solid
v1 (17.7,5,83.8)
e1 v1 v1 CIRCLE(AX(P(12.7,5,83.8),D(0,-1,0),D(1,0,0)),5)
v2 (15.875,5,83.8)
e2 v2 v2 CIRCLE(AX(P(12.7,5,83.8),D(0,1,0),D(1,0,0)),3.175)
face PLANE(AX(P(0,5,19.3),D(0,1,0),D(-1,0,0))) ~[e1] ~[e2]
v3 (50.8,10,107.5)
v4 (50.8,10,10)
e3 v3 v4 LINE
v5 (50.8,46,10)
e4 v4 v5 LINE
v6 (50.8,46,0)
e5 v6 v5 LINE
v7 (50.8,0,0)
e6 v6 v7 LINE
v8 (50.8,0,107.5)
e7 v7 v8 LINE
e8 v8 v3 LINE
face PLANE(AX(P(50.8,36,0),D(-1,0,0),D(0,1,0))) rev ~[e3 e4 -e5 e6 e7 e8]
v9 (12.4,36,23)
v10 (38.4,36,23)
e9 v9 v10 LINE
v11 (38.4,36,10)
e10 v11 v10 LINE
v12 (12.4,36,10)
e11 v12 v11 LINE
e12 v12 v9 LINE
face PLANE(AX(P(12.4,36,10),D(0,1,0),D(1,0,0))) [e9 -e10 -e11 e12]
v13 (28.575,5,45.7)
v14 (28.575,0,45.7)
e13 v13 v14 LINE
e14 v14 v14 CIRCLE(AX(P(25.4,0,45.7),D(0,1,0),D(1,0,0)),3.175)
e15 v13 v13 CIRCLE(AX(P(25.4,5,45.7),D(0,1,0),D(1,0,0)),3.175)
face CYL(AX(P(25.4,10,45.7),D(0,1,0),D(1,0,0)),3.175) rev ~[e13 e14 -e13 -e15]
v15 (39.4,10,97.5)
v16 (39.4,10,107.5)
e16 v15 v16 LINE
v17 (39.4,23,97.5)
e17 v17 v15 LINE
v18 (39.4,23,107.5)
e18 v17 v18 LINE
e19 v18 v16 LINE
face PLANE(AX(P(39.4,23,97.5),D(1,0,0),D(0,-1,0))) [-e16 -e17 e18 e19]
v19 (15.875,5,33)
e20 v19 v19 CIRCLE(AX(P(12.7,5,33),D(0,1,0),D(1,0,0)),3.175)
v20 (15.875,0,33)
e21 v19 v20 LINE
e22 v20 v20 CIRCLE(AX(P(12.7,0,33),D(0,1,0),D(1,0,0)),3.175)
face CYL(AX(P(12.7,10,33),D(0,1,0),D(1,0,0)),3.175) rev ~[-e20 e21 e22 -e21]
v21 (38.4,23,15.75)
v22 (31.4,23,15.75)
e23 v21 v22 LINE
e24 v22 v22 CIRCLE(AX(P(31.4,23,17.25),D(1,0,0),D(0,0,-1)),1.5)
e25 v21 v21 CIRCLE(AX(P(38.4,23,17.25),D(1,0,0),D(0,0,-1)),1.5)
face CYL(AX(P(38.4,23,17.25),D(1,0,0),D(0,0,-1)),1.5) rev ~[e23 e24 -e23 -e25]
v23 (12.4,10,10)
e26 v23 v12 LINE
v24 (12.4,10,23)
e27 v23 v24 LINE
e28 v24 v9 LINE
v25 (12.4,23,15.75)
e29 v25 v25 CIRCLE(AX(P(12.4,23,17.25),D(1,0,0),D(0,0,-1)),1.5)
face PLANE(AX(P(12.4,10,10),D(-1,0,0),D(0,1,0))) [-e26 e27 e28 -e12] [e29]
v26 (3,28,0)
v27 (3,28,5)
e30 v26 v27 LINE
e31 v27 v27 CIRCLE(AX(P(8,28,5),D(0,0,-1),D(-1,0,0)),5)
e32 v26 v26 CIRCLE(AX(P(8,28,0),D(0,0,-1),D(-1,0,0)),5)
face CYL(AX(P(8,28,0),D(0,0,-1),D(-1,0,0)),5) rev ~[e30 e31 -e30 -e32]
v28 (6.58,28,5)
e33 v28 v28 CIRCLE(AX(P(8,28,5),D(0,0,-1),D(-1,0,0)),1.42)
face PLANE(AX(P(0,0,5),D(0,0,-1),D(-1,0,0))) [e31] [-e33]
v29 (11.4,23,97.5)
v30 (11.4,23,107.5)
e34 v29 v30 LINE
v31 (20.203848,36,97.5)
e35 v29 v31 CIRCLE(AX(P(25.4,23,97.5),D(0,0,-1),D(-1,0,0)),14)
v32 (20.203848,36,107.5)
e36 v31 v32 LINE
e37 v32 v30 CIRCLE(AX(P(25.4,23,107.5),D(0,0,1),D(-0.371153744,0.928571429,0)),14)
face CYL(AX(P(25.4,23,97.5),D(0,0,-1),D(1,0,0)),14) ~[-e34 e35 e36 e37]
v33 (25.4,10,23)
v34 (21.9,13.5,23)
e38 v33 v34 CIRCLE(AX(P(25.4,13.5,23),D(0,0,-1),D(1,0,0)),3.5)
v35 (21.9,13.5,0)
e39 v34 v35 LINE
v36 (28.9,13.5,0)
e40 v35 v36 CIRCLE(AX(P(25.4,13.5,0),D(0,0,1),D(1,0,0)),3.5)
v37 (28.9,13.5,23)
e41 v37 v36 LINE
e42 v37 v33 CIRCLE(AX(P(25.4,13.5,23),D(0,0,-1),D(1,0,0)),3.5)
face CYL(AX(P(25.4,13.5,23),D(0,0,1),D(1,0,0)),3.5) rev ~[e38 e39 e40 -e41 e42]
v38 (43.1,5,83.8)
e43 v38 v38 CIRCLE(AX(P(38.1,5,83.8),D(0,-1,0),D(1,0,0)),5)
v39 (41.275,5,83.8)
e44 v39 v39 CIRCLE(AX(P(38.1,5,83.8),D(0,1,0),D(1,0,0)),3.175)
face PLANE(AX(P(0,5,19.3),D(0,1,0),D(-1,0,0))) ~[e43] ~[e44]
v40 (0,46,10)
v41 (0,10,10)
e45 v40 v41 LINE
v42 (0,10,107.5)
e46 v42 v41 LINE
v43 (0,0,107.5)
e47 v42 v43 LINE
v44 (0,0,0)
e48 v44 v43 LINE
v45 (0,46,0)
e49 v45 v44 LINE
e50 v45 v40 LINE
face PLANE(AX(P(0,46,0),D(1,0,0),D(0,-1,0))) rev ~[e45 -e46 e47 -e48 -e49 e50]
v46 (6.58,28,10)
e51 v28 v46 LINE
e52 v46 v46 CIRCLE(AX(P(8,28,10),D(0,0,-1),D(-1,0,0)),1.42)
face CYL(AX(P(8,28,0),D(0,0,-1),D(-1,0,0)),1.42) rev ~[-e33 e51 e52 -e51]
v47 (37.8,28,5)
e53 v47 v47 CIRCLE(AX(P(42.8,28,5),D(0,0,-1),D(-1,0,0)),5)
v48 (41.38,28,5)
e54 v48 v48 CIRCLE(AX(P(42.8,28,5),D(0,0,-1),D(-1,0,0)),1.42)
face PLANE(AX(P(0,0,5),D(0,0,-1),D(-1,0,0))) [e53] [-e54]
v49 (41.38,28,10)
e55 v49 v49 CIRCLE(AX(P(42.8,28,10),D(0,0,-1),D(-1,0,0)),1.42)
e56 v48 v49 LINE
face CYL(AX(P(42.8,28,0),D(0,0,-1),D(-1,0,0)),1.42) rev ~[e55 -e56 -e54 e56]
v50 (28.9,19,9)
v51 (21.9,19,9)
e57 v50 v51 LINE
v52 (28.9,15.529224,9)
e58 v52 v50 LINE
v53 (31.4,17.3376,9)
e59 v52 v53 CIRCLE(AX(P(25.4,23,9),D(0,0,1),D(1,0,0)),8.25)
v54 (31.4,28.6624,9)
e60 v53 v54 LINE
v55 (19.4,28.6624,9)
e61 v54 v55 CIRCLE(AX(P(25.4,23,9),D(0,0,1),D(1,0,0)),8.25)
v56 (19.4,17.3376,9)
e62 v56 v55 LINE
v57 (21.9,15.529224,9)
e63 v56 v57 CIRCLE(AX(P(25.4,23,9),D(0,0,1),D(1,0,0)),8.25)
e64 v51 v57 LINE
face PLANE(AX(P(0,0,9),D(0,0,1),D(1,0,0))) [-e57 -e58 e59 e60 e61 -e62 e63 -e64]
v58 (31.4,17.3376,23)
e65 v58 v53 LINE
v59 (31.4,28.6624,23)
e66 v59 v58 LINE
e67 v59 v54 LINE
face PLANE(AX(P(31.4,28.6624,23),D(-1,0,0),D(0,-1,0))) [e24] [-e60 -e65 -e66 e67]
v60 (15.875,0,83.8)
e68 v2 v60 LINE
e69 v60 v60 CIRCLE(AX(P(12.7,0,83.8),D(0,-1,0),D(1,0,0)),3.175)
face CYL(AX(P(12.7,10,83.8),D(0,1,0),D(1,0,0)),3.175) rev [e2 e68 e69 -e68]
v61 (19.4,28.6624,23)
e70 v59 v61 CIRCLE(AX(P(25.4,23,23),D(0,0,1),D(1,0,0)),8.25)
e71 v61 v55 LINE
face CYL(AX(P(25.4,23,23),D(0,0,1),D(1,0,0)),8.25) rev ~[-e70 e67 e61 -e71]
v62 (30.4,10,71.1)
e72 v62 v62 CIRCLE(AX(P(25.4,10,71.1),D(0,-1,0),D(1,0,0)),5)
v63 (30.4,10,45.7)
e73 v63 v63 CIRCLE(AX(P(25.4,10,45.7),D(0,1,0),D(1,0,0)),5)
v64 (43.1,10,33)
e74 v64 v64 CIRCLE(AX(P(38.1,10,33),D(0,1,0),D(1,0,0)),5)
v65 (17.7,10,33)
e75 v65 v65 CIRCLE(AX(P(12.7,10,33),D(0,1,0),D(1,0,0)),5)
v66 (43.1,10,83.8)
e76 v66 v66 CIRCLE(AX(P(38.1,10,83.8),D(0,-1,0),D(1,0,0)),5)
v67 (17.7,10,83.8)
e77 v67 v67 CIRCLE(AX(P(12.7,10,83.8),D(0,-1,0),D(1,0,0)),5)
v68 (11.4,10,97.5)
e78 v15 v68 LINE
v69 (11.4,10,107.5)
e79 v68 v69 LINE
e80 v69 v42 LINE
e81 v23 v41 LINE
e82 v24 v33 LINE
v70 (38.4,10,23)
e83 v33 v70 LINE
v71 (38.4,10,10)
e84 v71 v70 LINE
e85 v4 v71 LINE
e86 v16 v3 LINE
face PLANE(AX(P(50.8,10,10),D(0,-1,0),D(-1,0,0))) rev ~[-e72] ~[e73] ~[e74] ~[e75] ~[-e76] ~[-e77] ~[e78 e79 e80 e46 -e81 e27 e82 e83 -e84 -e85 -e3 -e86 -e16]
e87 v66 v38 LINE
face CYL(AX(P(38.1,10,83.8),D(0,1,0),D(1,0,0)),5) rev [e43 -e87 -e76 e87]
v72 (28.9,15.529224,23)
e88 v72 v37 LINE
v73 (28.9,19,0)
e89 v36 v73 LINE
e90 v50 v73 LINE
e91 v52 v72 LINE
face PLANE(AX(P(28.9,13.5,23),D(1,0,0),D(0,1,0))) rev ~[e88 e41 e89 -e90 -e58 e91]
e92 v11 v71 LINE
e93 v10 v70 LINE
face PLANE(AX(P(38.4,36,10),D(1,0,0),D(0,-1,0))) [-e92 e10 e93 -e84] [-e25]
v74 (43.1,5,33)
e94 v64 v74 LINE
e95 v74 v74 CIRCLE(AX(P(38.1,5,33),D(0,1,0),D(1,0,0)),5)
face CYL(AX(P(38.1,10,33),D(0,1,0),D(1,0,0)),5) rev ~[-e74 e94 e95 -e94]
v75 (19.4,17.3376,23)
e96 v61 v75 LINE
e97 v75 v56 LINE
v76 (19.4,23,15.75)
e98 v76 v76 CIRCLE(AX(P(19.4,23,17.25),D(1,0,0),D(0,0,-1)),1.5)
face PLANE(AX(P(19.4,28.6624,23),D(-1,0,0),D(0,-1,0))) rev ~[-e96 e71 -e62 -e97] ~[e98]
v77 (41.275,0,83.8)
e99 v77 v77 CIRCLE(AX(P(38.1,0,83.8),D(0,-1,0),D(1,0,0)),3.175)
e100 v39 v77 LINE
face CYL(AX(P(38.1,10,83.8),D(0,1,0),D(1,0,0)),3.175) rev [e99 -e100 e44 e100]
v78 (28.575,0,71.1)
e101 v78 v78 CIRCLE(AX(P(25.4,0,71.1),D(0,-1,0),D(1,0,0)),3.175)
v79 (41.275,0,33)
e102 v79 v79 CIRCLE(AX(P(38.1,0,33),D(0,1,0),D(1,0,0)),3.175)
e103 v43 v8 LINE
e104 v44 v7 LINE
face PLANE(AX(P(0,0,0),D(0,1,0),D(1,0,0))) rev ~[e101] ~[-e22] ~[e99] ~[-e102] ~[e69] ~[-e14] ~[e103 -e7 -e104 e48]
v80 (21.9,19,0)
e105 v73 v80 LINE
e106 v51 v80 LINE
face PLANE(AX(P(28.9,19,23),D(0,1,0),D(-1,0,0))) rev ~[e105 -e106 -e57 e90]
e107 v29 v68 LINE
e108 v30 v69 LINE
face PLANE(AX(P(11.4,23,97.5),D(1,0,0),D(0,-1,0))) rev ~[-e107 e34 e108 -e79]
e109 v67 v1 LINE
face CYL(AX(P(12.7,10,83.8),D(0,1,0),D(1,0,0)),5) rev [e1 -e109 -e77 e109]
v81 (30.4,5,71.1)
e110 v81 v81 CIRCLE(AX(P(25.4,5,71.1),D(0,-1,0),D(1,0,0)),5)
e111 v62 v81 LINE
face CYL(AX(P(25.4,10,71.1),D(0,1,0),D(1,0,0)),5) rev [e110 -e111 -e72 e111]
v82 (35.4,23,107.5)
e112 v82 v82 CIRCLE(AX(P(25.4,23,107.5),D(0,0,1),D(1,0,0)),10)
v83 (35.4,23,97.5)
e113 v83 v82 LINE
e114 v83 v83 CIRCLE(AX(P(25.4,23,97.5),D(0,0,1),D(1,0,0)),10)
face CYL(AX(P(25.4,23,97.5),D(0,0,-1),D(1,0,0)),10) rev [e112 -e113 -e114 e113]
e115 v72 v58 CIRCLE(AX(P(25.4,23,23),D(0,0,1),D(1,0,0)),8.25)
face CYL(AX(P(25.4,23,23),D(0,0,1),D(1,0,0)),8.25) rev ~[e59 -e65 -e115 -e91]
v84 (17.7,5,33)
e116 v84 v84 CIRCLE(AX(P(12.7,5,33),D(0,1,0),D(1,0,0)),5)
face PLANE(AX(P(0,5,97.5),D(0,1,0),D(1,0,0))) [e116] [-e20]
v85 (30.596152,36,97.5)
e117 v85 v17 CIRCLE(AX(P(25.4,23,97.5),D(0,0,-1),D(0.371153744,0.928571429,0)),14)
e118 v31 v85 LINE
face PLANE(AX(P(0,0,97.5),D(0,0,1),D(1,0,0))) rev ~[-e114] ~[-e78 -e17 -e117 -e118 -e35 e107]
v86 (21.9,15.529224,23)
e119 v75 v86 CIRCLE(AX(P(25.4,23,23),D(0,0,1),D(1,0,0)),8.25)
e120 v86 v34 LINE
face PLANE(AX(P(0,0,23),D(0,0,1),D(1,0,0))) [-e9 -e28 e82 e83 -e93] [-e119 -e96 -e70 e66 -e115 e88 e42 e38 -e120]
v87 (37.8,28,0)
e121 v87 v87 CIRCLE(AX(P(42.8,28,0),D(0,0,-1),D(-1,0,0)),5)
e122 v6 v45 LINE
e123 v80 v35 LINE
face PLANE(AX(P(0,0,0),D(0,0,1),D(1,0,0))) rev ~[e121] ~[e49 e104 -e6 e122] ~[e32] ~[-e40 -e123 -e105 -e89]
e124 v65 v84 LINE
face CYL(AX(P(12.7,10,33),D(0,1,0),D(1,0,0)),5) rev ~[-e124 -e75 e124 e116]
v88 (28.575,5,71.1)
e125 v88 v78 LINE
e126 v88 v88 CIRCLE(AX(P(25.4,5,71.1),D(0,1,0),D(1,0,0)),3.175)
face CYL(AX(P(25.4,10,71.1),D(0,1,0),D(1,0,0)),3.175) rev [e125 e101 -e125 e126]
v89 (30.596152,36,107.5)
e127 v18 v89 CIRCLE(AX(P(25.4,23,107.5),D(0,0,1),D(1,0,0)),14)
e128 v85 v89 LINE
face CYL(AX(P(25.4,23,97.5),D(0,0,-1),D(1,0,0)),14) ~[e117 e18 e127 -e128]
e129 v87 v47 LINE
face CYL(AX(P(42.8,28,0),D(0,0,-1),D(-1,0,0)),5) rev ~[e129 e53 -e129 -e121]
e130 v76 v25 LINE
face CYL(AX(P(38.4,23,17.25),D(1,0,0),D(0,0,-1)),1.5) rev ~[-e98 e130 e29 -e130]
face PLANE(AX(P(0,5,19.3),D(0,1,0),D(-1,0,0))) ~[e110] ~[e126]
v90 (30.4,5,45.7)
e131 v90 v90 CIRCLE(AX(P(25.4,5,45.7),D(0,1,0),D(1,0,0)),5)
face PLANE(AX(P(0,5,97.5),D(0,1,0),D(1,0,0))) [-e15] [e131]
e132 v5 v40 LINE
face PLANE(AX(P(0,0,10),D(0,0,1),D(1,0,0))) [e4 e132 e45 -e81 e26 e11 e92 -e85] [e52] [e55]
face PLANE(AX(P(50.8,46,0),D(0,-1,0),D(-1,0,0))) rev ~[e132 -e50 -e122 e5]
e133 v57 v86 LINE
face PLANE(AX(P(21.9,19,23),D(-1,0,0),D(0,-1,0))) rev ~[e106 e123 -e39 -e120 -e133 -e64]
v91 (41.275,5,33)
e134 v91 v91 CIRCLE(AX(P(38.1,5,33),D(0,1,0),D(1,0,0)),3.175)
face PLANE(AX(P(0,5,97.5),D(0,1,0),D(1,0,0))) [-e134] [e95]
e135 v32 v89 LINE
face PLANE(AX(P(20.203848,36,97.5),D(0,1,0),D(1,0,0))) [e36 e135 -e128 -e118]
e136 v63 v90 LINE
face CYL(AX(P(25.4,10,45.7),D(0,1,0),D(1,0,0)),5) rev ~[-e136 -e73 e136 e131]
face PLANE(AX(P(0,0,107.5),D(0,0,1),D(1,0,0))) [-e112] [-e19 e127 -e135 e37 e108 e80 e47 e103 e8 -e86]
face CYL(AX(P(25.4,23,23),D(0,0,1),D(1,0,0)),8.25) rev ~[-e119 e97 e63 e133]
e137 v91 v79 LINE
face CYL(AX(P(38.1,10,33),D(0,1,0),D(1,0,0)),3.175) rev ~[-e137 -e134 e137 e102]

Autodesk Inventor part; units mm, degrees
ref_plane "YZ Plane" through (0, 0, 0) normal (1, 0, 0) x (0, 1, 0)
ref_plane "XZ Plane" through (0, 0, 0) normal (0, 1, 0) x (-1, 0, 0)
sketch "Sketch1" plane through (0, 0, 0) normal (0, 0, 1) x (1, 0, 0)
  line L0 (-22.1831, 0) -> (-47.5831, 0)
  line L1 (0, 0) -> (50.8, 0)
  line L2 (50.8, 0) -> (50.8, 5)
  line L3 (50.8, 5) -> (50.8, 10)
  line L4 (50.8, 10) -> (50.8, 36)
  line L5 (50.8, 36) -> (50.8, 46)
  line L6 (50.8, 46) -> (0, 46)
  line L7 (0, 46) -> (0, 0)
  dimension "d0" = 25.4
  dimension "d1" = 50.8
  dimension "d2" = 5
  dimension "d3" = 5
  dimension "d4" = 26
  dimension "d5" = 10
extrude "Extrusion1" add sketch "Sketch1" along normal blind 10
sketch "Sketch2" plane through (0, 0, 10) normal (0, 0, 1) x (1, 0, 0)
  line L0 (50.8, 0) -> (50.8, 46) projected
  line L1 (50.8, 46) -> (0, 46) projected
  line L2 (0, 46) -> (0, 0) projected
  line L3 (0, 0) -> (50.8, 0) projected
  line L4 (0, 46) -> (0, 0) projected
  line L5 (0, 0) -> (50.8, 0)
  line L6 (50.8, 0) -> (50.8, 46) projected
  line L7 (50.8, 0) -> (50.8, 10)
  line L8 (50.8, 10) -> (0, 10)
  line L9 (0, 0) -> (0, 10)
  dimension "d8" = 10
extrude "Extrusion2" add sketch "Sketch2" along normal blind 87.5 contours L3 L2 L8 L0
sketch "Sketch3" plane through (0, 0, 10) normal (0, 0, 1) x (1, 0, 0)
  line L0 (0, 10) -> (50.8, 10) projected
  line L1 (50.8, 10) -> (50.8, 46) projected
  line L2 (50.8, 46) -> (0, 46) projected
  line L3 (0, 46) -> (0, 10) projected
  line L4 (12.4, 36) -> (38.4, 36)
  line L5 (38.4, 36) -> (38.4, 10)
  line L6 (38.4, 10) -> (12.4, 10)
  line L7 (12.4, 10) -> (12.4, 36)
  line L8 (17.4, 31) -> (33.4, 31)
  line L9 (33.4, 31) -> (33.4, 15)
  line L10 (33.4, 15) -> (17.4, 15)
  line L11 (17.4, 15) -> (17.4, 31)
  point P0 (0, 0)
  dimension "d1" = 50.8
  dimension "d12" = 38.4
  dimension "d13" = 10
  dimension "d14" = 5
  dimension "d15" = 5
  dimension "d16" = 16
  dimension "d17" = 16
  dimension "d18" = 5
  dimension "d19" = 5
  dimension "d24" = 26
  dimension "d26" = 26
extrude "Extrusion3" add sketch "Sketch3" along normal blind 13 contours L7 L4 L5 L0 | L8 L9 L10 L11
sketch "Sketch5" plane through (0, 0, 0) normal (0, 0, -1) x (-1, 0, 0)
  line L0 (-12.4, 36) -> (-38.4, 36) projected
  line L1 (-38.4, 36) -> (-38.4, 10) projected
  line L2 (-12.4, 10) -> (-12.4, 36) projected
  line L3 (0, 10) -> (-12.4, 10) projected
  line L4 (-50.8, 10) -> (-50.8, 46) projected
  line L5 (-50.8, 46) -> (0, 46) projected
  line L6 (0, 46) -> (0, 10) projected
  line L7 (0, 0) -> (-50.8, 0) projected
  line L8 (-50.8, 0) -> (-50.8, 10) projected
  line L9 (-50.8, 10) -> (0, 10) projected
  line L10 (0, 10) -> (0, 0) projected
  circle A0 centre (-42.8, 28) radius 1.42
  circle A1 centre (-8, 28) radius 1.42
  line L11 (-38.4, 10) -> (-50.8, 10) projected
  dimension "d29" = 2.84
  dimension "d30" = 2.84
  dimension "d31" = 8
  dimension "d32" = 8
  dimension "d33" = 8
  dimension "d34" = 8
extrude "Extrusion5" cut sketch "Sketch5" against normal blind 26 contours A0 | A1
sketch "Sketch9" plane through (0, 0, 0) normal (0, 0, -1) x (-1, 0, 0)
  circle A0 centre (-8, 28) radius 1.42 projected
  circle A1 centre (-42.8, 28) radius 1.42 projected
  line L0 (-50.8, 0) -> (-50.8, 46) projected
  line L1 (0, 0) -> (-50.8, 0) projected
  line L2 (0, 46) -> (0, 0) projected
  line L3 (-50.8, 46) -> (0, 46) projected
  circle A2 centre (-42.8, 28) radius 1.42 projected
  circle A3 centre (-42.8, 28) radius 5
  circle A4 centre (-8, 28) radius 1.42 projected
  circle A5 centre (-8, 28) radius 5
  dimension "d55" = 10
  dimension "d56" = 10
extrude "Extrusion9" cut sketch "Sketch9" against normal blind 5 contours A3 | A5
sketch "Sketch7" plane through (0, 0, 23) normal (0, 0, 1) x (1, 0, 0)
  line L0 (12.4, 36) -> (12.4, 10) projected
  line L1 (38.4, 10) -> (38.4, 36) projected
  line L2 (38.4, 36) -> (12.4, 36) projected
  circle A0 centre (25.4, 23) radius 8.25
  circle A1 centre (25.4, 23) radius 6
  line L3 (19.4, 28.6624) -> (19.4, 17.3376)
  line L4 (38.4, 10) -> (12.4, 10) projected
  line L5 (31.4, 28.6624) -> (31.4, 17.3376)
  point P0 (0, 0)
  dimension "d42" = 26
  dimension "d43" = 16.5
  dimension "d45" = 13
  dimension "d46" = 12
  dimension "d59" = 26
  dimension "d61" = 0
  dimension "d62" = 180
  dimension "d69" = 0
  dimension "d99" = 13
extrude "Extrusion7" cut sketch "Sketch7" against normal blind 14 contours L5 A1 L3 A0 | A0 L3 A1 L5 | A1
sketch "Sketch10" plane through (38.4, 10, 10) normal (1, 0, 0) x (0, 0, -1)
  line L0 (-13, 7.3376) -> (-13, 18.6624) projected
  line L1 (-13, 7.3376) -> (1, 7.3376) projected
  line L2 (1, 7.3376) -> (1, 18.6624) projected
  line L3 (-13, 18.6624) -> (1, 18.6624) projected
  circle A0 centre (-7.25, 13) radius 1.5
  point P0 (10, -10)
  dimension "d63" = 3
  dimension "d64" = 8.25
  dimension "d65" = 11.3247
  dimension "d66" = 5.6624
extrude "Extrusion10" cut sketch "Sketch10" against normal through all contours A0
sketch "Sketch11" plane through (0, 10, 97.5) normal (0, 1, 0) x (1, 0, 0)
  line L0 (38.4, 87.5) -> (38.4, 74.5) projected
  line L1 (38.4, 74.5) -> (12.4, 74.5) projected
  line L2 (12.4, 74.5) -> (12.4, 87.5) projected
  line L3 (0, 87.5) -> (12.4, 87.5) projected
  line L4 (0, 87.5) -> (0, 0) projected
  line L5 (50.8, 0) -> (0, 0) projected
  line L6 (50.8, 87.5) -> (50.8, 0) projected
  line L7 (38.4, 87.5) -> (50.8, 87.5) projected
  circle A0 centre (50.8, 77.2) radius 3.175
  circle A1 centre (38.1, 64.5) radius 3.175
  line L8 (38.4, 74.5) -> (12.4, 74.5) projected
  line L9 (38.4, 74.5) -> (25.4, 74.5)
  circle A2 centre (25.4, 77.2) radius 3.175
  circle A3 centre (12.7, 64.5) radius 3.175
  circle A4 centre (0, 77.2) radius 3.175
  circle A5 centre (-12.7, 64.5) radius 3.175
  circle A6 centre (-25.4, 77.2) radius 3.175
  circle A7 centre (-38.1, 64.5) radius 3.175
  circle A8 centre (50.8, 51.8) radius 3.175
  circle A9 centre (38.1, 39.1) radius 3.175
  circle A10 centre (25.4, 51.8) radius 3.175
  circle A11 centre (12.7, 39.1) radius 3.175
  circle A12 centre (0, 51.8) radius 3.175
  circle A13 centre (-12.7, 39.1) radius 3.175
  circle A14 centre (-25.4, 51.8) radius 3.175
  circle A15 centre (-38.1, 39.1) radius 3.175
  circle A16 centre (50.8, 26.4) radius 3.175
  circle A17 centre (38.1, 13.7) radius 3.175
  circle A18 centre (25.4, 26.4) radius 3.175
  circle A19 centre (12.7, 13.7) radius 3.175
  circle A20 centre (0, 26.4) radius 3.175
  circle A21 centre (-12.7, 13.7) radius 3.175
  circle A22 centre (-25.4, 26.4) radius 3.175
  circle A23 centre (-38.1, 13.7) radius 3.175
  circle A24 centre (50.8, 1) radius 3.175
  circle A25 centre (38.1, -11.7) radius 3.175
  circle A26 centre (25.4, 1) radius 3.175
  circle A27 centre (12.7, -11.7) radius 3.175
  circle A28 centre (0, 1) radius 3.175
  circle A29 centre (-12.7, -11.7) radius 3.175
  circle A30 centre (-25.4, 1) radius 3.175
  circle A31 centre (-38.1, -11.7) radius 3.175
  point P0 (0, 97.5)
  dimension "d70" = 26
  dimension "d71" = 6.35
  dimension "d72" = 6.35
  dimension "d73" = 13
  dimension "d75" = 12.7
  dimension "d76" = 12.7
  dimension "d77" = 10.3
  dimension "d78" = 13
  dimension "d82" = 25.4
  dimension "d85" = 25.4
  dimension "d88" = 12.7
extrude "Extrusion11" cut sketch "Sketch11" against normal blind 10 contours A1 | A3 | A10
sketch "Sketch12" plane through (0, 10, 97.5) normal (0, 1, 0) x (1, 0, 0)
  circle A0 centre (38.1, 64.5) radius 3.175 projected
  circle A1 centre (25.4, 51.8) radius 3.175 projected
  circle A2 centre (12.7, 64.5) radius 3.175 projected
  line L0 (38.4, 87.5) -> (38.4, 74.5) projected
  line L1 (38.4, 74.5) -> (12.4, 74.5) projected
  line L2 (12.4, 74.5) -> (12.4, 87.5) projected
  line L3 (0, 87.5) -> (12.4, 87.5) projected
  line L4 (0, 87.5) -> (0, 0) projected
  line L5 (50.8, 0) -> (0, 0) projected
  line L6 (50.8, 87.5) -> (50.8, 0) projected
  line L7 (38.4, 87.5) -> (50.8, 87.5) projected
  circle A3 centre (12.7, 64.5) radius 5
  circle A4 centre (25.4, 51.8) radius 5
  circle A5 centre (38.1, 64.5) radius 3.175 projected
  circle A6 centre (38.1, 64.5) radius 5
  point P0 (0, 97.5)
  dimension "d91" = 10
  dimension "d92" = 10
  dimension "d93" = 10
extrude "Extrusion12" cut sketch "Sketch12" against normal blind 5 contours A0 | A1 | A2 | A3 | A4 | A6
sketch "Sketch14" plane through (0, 0, 97.5) normal (0, 0, 1) x (1, 0, 0)
  line L0 (7.7, 5) -> (17.7, 5) projected
  line L1 (50.8, 10) -> (0, 10) projected
  line L2 (0, 10) -> (0, 0) projected
  line L3 (0, 0) -> (50.8, 0) projected
  line L4 (50.8, 0) -> (50.8, 10) projected
  circle A0 centre (25.4, 23) radius 10
  circle A1 centre (25.4, 23) radius 14
  line L5 (0, 46) -> (0, 0) projected
  line L6 (0, 0) -> (50.8, 0)
  line L7 (50.8, 0) -> (50.8, 10)
  line L8 (50.8, 10) -> (0, 10)
  line L9 (0, 10) -> (0, 0)
  circle A2 centre (8, 28) radius 1.42 projected
  circle A3 centre (42.8, 28) radius 1.42 projected
  line L10 (38.4, 36) -> (38.4, 10) projected
  line L11 (38.4, 10) -> (50.8, 10) projected
  line L12 (50.8, 10) -> (50.8, 46) projected
  line L13 (50.8, 46) -> (0, 46) projected
  line L14 (0, 46) -> (0, 10) projected
  line L15 (0, 10) -> (12.4, 10) projected
  line L16 (12.4, 10) -> (12.4, 36) projected
  line L17 (12.4, 36) -> (38.4, 36) projected
  circle A4 centre (8, 28) radius 1.42 projected
  circle A5 centre (8, 28) radius 3
  circle A6 centre (42.8, 28) radius 1.42 projected
  circle A7 centre (42.8, 28) radius 3
  line L18 (11.4, 23) -> (11.4, 10)
  line L19 (39.4, 23) -> (39.4, 10)
  line L20 (33.1, 10) -> (43.1, 10) projected
  circle A8 centre (25.4, 23) radius 9
  line L21 (19.4, 17.3376) -> (19.4, 28.6624) projected
  arc A9 (19.4, 17.3376) -> (31.4, 17.3376) centre (25.4, 23) ccw projected
  line L22 (31.4, 28.6624) -> (31.4, 17.3376) projected
  arc A10 (31.4, 28.6624) -> (19.4, 28.6624) centre (25.4, 23) ccw projected
  line L23 (12.4, 36) -> (12.4, 10) projected
  line L24 (39.4, 10) -> (12.4, 10)
  line L25 (12.4, 10) -> (12.4, 36)
  line L26 (12.4, 36) -> (39.4, 36)
  line L27 (39.4, 36) -> (39.4, 10)
  point P0 (12.4, 10)
  point P1 (38.4, 28.1962)
  point P2 (30.5962, 36)
  point P3 (20.2038, 36)
  point P4 (12.4, 28.1962)
  point P5 (38.4, 17.8038)
  point P6 (12.4, 17.8038)
  dimension "d100" = 20
  dimension "d101" = 28
  dimension "d102" = 6
  dimension "d103" = 6
  dimension "d106" = 18
  dimension "d107" = 0
  dimension "d117" = 0
extrude "Extrusion14" add sketch "Sketch14" along normal blind 10 contours L4 L3 L2 L1 A1 | L1 L10 A1 L19 | L1 A1 L10 | A1 L10 | A1 L1 L16 L17 L10 | L18 A1 L16 L1 | A1 L1 | L16 A1 L1 | A1 L16
ref_plane "Work Plane1" through (0, 0, 58.4) normal (0, 0, 1) x (1, 0, 0)
mirror "Mirror1" about plane through (0, 0, 58.4) normal (0, 0, 1) of "Extrusion12", "Extrusion11"
sketch "Sketch15" plane through (0, 0, 23) normal (0, 0, 1) x (1, 0, 0)
  arc A0 (31.4, 28.6624) -> (19.4, 28.6624) centre (25.4, 23) ccw projected
  line L0 (19.4, 17.3376) -> (19.4, 28.6624) projected
  arc A1 (19.4, 17.3376) -> (31.4, 17.3376) centre (25.4, 23) ccw projected
  line L1 (31.4, 28.6624) -> (31.4, 17.3376) projected
  line L2 (19.4, 17.3376) -> (19.4, 28.6624) projected
  arc A2 (31.4, 28.6624) -> (19.4, 28.6624) centre (25.4, 23) ccw projected
  line L3 (31.4, 28.6624) -> (31.4, 17.3376) projected
  arc A3 (19.4, 17.3376) -> (31.4, 17.3376) centre (25.4, 23) ccw projected
  line L4 (12.4, 36) -> (12.4, 10) projected
  line L5 (38.4, 10) -> (12.4, 10) projected
  line L6 (38.4, 10) -> (38.4, 36) projected
  line L7 (38.4, 36) -> (12.4, 36) projected
  circle A4 centre (25.4, 13.5) radius 3.5
  line L8 (28.9, 26.8597) -> (21.9, 26.8597)
  line L9 (21.9, 11.25) -> (28.9, 11.25)
  line L10 (28.9, 11.25) -> (28.9, 19)
  line L11 (28.9, 19) -> (21.9, 19)
  line L12 (21.9, 19) -> (21.9, 11.25)
  point P0 (0, 0)
  point P1 (21.9, 13.5)
  point P2 (28.9, 13.5)
  dimension "d109" = 7
  dimension "d110" = 0
  dimension "d111" = 8.25
  dimension "d113" = 3.5
  dimension "d116" = 5.5
extrude "Extrusion15" cut sketch "Sketch15" against normal through all contours L10 A4 A1 | A1 A4 L12 L11 L10 | A1 A4 L12 | A4 L9 A1 | A1 A4 | A4 L9
equation "\"d8\" = d2 + d3"
equation "\"d12\" = 0.5 * d26 + 0.5 * d1"
equation "\"d15\" = d14"
equation "\"d17\" = d16"
equation "\"d18\" = d14"
equation "\"d19\" = d14"
equation "\"d30\" = d29"
equation "\"d32\" = d31"
equation "\"d33\" = d31"
equation "\"d34\" = d31"
equation "\"d35\" = d26"
equation "\"d56\" = d55"
equation "\"d45\" = 0.5 * d42"
equation "\"d66\" = 0.5 * d65"
equation "\"d71\" = 0.25 * d0"
equation "\"d72\" = d71"
equation "\"d73\" = 0.5 * d70"
equation "\"d75\" = 0.5 * d0"
equation "\"d76\" = 0.5 * d0"
equation "\"d82\" = d0"
equation "\"d85\" = d0"
equation "\"d88\" = 0.5 * d0"
equation "\"d92\" = d91"
equation "\"d93\" = d91"
equation "\"d113\" = 0.5 * d109"
properties part number "Actuator Stage Actuator Mount V0.2"
